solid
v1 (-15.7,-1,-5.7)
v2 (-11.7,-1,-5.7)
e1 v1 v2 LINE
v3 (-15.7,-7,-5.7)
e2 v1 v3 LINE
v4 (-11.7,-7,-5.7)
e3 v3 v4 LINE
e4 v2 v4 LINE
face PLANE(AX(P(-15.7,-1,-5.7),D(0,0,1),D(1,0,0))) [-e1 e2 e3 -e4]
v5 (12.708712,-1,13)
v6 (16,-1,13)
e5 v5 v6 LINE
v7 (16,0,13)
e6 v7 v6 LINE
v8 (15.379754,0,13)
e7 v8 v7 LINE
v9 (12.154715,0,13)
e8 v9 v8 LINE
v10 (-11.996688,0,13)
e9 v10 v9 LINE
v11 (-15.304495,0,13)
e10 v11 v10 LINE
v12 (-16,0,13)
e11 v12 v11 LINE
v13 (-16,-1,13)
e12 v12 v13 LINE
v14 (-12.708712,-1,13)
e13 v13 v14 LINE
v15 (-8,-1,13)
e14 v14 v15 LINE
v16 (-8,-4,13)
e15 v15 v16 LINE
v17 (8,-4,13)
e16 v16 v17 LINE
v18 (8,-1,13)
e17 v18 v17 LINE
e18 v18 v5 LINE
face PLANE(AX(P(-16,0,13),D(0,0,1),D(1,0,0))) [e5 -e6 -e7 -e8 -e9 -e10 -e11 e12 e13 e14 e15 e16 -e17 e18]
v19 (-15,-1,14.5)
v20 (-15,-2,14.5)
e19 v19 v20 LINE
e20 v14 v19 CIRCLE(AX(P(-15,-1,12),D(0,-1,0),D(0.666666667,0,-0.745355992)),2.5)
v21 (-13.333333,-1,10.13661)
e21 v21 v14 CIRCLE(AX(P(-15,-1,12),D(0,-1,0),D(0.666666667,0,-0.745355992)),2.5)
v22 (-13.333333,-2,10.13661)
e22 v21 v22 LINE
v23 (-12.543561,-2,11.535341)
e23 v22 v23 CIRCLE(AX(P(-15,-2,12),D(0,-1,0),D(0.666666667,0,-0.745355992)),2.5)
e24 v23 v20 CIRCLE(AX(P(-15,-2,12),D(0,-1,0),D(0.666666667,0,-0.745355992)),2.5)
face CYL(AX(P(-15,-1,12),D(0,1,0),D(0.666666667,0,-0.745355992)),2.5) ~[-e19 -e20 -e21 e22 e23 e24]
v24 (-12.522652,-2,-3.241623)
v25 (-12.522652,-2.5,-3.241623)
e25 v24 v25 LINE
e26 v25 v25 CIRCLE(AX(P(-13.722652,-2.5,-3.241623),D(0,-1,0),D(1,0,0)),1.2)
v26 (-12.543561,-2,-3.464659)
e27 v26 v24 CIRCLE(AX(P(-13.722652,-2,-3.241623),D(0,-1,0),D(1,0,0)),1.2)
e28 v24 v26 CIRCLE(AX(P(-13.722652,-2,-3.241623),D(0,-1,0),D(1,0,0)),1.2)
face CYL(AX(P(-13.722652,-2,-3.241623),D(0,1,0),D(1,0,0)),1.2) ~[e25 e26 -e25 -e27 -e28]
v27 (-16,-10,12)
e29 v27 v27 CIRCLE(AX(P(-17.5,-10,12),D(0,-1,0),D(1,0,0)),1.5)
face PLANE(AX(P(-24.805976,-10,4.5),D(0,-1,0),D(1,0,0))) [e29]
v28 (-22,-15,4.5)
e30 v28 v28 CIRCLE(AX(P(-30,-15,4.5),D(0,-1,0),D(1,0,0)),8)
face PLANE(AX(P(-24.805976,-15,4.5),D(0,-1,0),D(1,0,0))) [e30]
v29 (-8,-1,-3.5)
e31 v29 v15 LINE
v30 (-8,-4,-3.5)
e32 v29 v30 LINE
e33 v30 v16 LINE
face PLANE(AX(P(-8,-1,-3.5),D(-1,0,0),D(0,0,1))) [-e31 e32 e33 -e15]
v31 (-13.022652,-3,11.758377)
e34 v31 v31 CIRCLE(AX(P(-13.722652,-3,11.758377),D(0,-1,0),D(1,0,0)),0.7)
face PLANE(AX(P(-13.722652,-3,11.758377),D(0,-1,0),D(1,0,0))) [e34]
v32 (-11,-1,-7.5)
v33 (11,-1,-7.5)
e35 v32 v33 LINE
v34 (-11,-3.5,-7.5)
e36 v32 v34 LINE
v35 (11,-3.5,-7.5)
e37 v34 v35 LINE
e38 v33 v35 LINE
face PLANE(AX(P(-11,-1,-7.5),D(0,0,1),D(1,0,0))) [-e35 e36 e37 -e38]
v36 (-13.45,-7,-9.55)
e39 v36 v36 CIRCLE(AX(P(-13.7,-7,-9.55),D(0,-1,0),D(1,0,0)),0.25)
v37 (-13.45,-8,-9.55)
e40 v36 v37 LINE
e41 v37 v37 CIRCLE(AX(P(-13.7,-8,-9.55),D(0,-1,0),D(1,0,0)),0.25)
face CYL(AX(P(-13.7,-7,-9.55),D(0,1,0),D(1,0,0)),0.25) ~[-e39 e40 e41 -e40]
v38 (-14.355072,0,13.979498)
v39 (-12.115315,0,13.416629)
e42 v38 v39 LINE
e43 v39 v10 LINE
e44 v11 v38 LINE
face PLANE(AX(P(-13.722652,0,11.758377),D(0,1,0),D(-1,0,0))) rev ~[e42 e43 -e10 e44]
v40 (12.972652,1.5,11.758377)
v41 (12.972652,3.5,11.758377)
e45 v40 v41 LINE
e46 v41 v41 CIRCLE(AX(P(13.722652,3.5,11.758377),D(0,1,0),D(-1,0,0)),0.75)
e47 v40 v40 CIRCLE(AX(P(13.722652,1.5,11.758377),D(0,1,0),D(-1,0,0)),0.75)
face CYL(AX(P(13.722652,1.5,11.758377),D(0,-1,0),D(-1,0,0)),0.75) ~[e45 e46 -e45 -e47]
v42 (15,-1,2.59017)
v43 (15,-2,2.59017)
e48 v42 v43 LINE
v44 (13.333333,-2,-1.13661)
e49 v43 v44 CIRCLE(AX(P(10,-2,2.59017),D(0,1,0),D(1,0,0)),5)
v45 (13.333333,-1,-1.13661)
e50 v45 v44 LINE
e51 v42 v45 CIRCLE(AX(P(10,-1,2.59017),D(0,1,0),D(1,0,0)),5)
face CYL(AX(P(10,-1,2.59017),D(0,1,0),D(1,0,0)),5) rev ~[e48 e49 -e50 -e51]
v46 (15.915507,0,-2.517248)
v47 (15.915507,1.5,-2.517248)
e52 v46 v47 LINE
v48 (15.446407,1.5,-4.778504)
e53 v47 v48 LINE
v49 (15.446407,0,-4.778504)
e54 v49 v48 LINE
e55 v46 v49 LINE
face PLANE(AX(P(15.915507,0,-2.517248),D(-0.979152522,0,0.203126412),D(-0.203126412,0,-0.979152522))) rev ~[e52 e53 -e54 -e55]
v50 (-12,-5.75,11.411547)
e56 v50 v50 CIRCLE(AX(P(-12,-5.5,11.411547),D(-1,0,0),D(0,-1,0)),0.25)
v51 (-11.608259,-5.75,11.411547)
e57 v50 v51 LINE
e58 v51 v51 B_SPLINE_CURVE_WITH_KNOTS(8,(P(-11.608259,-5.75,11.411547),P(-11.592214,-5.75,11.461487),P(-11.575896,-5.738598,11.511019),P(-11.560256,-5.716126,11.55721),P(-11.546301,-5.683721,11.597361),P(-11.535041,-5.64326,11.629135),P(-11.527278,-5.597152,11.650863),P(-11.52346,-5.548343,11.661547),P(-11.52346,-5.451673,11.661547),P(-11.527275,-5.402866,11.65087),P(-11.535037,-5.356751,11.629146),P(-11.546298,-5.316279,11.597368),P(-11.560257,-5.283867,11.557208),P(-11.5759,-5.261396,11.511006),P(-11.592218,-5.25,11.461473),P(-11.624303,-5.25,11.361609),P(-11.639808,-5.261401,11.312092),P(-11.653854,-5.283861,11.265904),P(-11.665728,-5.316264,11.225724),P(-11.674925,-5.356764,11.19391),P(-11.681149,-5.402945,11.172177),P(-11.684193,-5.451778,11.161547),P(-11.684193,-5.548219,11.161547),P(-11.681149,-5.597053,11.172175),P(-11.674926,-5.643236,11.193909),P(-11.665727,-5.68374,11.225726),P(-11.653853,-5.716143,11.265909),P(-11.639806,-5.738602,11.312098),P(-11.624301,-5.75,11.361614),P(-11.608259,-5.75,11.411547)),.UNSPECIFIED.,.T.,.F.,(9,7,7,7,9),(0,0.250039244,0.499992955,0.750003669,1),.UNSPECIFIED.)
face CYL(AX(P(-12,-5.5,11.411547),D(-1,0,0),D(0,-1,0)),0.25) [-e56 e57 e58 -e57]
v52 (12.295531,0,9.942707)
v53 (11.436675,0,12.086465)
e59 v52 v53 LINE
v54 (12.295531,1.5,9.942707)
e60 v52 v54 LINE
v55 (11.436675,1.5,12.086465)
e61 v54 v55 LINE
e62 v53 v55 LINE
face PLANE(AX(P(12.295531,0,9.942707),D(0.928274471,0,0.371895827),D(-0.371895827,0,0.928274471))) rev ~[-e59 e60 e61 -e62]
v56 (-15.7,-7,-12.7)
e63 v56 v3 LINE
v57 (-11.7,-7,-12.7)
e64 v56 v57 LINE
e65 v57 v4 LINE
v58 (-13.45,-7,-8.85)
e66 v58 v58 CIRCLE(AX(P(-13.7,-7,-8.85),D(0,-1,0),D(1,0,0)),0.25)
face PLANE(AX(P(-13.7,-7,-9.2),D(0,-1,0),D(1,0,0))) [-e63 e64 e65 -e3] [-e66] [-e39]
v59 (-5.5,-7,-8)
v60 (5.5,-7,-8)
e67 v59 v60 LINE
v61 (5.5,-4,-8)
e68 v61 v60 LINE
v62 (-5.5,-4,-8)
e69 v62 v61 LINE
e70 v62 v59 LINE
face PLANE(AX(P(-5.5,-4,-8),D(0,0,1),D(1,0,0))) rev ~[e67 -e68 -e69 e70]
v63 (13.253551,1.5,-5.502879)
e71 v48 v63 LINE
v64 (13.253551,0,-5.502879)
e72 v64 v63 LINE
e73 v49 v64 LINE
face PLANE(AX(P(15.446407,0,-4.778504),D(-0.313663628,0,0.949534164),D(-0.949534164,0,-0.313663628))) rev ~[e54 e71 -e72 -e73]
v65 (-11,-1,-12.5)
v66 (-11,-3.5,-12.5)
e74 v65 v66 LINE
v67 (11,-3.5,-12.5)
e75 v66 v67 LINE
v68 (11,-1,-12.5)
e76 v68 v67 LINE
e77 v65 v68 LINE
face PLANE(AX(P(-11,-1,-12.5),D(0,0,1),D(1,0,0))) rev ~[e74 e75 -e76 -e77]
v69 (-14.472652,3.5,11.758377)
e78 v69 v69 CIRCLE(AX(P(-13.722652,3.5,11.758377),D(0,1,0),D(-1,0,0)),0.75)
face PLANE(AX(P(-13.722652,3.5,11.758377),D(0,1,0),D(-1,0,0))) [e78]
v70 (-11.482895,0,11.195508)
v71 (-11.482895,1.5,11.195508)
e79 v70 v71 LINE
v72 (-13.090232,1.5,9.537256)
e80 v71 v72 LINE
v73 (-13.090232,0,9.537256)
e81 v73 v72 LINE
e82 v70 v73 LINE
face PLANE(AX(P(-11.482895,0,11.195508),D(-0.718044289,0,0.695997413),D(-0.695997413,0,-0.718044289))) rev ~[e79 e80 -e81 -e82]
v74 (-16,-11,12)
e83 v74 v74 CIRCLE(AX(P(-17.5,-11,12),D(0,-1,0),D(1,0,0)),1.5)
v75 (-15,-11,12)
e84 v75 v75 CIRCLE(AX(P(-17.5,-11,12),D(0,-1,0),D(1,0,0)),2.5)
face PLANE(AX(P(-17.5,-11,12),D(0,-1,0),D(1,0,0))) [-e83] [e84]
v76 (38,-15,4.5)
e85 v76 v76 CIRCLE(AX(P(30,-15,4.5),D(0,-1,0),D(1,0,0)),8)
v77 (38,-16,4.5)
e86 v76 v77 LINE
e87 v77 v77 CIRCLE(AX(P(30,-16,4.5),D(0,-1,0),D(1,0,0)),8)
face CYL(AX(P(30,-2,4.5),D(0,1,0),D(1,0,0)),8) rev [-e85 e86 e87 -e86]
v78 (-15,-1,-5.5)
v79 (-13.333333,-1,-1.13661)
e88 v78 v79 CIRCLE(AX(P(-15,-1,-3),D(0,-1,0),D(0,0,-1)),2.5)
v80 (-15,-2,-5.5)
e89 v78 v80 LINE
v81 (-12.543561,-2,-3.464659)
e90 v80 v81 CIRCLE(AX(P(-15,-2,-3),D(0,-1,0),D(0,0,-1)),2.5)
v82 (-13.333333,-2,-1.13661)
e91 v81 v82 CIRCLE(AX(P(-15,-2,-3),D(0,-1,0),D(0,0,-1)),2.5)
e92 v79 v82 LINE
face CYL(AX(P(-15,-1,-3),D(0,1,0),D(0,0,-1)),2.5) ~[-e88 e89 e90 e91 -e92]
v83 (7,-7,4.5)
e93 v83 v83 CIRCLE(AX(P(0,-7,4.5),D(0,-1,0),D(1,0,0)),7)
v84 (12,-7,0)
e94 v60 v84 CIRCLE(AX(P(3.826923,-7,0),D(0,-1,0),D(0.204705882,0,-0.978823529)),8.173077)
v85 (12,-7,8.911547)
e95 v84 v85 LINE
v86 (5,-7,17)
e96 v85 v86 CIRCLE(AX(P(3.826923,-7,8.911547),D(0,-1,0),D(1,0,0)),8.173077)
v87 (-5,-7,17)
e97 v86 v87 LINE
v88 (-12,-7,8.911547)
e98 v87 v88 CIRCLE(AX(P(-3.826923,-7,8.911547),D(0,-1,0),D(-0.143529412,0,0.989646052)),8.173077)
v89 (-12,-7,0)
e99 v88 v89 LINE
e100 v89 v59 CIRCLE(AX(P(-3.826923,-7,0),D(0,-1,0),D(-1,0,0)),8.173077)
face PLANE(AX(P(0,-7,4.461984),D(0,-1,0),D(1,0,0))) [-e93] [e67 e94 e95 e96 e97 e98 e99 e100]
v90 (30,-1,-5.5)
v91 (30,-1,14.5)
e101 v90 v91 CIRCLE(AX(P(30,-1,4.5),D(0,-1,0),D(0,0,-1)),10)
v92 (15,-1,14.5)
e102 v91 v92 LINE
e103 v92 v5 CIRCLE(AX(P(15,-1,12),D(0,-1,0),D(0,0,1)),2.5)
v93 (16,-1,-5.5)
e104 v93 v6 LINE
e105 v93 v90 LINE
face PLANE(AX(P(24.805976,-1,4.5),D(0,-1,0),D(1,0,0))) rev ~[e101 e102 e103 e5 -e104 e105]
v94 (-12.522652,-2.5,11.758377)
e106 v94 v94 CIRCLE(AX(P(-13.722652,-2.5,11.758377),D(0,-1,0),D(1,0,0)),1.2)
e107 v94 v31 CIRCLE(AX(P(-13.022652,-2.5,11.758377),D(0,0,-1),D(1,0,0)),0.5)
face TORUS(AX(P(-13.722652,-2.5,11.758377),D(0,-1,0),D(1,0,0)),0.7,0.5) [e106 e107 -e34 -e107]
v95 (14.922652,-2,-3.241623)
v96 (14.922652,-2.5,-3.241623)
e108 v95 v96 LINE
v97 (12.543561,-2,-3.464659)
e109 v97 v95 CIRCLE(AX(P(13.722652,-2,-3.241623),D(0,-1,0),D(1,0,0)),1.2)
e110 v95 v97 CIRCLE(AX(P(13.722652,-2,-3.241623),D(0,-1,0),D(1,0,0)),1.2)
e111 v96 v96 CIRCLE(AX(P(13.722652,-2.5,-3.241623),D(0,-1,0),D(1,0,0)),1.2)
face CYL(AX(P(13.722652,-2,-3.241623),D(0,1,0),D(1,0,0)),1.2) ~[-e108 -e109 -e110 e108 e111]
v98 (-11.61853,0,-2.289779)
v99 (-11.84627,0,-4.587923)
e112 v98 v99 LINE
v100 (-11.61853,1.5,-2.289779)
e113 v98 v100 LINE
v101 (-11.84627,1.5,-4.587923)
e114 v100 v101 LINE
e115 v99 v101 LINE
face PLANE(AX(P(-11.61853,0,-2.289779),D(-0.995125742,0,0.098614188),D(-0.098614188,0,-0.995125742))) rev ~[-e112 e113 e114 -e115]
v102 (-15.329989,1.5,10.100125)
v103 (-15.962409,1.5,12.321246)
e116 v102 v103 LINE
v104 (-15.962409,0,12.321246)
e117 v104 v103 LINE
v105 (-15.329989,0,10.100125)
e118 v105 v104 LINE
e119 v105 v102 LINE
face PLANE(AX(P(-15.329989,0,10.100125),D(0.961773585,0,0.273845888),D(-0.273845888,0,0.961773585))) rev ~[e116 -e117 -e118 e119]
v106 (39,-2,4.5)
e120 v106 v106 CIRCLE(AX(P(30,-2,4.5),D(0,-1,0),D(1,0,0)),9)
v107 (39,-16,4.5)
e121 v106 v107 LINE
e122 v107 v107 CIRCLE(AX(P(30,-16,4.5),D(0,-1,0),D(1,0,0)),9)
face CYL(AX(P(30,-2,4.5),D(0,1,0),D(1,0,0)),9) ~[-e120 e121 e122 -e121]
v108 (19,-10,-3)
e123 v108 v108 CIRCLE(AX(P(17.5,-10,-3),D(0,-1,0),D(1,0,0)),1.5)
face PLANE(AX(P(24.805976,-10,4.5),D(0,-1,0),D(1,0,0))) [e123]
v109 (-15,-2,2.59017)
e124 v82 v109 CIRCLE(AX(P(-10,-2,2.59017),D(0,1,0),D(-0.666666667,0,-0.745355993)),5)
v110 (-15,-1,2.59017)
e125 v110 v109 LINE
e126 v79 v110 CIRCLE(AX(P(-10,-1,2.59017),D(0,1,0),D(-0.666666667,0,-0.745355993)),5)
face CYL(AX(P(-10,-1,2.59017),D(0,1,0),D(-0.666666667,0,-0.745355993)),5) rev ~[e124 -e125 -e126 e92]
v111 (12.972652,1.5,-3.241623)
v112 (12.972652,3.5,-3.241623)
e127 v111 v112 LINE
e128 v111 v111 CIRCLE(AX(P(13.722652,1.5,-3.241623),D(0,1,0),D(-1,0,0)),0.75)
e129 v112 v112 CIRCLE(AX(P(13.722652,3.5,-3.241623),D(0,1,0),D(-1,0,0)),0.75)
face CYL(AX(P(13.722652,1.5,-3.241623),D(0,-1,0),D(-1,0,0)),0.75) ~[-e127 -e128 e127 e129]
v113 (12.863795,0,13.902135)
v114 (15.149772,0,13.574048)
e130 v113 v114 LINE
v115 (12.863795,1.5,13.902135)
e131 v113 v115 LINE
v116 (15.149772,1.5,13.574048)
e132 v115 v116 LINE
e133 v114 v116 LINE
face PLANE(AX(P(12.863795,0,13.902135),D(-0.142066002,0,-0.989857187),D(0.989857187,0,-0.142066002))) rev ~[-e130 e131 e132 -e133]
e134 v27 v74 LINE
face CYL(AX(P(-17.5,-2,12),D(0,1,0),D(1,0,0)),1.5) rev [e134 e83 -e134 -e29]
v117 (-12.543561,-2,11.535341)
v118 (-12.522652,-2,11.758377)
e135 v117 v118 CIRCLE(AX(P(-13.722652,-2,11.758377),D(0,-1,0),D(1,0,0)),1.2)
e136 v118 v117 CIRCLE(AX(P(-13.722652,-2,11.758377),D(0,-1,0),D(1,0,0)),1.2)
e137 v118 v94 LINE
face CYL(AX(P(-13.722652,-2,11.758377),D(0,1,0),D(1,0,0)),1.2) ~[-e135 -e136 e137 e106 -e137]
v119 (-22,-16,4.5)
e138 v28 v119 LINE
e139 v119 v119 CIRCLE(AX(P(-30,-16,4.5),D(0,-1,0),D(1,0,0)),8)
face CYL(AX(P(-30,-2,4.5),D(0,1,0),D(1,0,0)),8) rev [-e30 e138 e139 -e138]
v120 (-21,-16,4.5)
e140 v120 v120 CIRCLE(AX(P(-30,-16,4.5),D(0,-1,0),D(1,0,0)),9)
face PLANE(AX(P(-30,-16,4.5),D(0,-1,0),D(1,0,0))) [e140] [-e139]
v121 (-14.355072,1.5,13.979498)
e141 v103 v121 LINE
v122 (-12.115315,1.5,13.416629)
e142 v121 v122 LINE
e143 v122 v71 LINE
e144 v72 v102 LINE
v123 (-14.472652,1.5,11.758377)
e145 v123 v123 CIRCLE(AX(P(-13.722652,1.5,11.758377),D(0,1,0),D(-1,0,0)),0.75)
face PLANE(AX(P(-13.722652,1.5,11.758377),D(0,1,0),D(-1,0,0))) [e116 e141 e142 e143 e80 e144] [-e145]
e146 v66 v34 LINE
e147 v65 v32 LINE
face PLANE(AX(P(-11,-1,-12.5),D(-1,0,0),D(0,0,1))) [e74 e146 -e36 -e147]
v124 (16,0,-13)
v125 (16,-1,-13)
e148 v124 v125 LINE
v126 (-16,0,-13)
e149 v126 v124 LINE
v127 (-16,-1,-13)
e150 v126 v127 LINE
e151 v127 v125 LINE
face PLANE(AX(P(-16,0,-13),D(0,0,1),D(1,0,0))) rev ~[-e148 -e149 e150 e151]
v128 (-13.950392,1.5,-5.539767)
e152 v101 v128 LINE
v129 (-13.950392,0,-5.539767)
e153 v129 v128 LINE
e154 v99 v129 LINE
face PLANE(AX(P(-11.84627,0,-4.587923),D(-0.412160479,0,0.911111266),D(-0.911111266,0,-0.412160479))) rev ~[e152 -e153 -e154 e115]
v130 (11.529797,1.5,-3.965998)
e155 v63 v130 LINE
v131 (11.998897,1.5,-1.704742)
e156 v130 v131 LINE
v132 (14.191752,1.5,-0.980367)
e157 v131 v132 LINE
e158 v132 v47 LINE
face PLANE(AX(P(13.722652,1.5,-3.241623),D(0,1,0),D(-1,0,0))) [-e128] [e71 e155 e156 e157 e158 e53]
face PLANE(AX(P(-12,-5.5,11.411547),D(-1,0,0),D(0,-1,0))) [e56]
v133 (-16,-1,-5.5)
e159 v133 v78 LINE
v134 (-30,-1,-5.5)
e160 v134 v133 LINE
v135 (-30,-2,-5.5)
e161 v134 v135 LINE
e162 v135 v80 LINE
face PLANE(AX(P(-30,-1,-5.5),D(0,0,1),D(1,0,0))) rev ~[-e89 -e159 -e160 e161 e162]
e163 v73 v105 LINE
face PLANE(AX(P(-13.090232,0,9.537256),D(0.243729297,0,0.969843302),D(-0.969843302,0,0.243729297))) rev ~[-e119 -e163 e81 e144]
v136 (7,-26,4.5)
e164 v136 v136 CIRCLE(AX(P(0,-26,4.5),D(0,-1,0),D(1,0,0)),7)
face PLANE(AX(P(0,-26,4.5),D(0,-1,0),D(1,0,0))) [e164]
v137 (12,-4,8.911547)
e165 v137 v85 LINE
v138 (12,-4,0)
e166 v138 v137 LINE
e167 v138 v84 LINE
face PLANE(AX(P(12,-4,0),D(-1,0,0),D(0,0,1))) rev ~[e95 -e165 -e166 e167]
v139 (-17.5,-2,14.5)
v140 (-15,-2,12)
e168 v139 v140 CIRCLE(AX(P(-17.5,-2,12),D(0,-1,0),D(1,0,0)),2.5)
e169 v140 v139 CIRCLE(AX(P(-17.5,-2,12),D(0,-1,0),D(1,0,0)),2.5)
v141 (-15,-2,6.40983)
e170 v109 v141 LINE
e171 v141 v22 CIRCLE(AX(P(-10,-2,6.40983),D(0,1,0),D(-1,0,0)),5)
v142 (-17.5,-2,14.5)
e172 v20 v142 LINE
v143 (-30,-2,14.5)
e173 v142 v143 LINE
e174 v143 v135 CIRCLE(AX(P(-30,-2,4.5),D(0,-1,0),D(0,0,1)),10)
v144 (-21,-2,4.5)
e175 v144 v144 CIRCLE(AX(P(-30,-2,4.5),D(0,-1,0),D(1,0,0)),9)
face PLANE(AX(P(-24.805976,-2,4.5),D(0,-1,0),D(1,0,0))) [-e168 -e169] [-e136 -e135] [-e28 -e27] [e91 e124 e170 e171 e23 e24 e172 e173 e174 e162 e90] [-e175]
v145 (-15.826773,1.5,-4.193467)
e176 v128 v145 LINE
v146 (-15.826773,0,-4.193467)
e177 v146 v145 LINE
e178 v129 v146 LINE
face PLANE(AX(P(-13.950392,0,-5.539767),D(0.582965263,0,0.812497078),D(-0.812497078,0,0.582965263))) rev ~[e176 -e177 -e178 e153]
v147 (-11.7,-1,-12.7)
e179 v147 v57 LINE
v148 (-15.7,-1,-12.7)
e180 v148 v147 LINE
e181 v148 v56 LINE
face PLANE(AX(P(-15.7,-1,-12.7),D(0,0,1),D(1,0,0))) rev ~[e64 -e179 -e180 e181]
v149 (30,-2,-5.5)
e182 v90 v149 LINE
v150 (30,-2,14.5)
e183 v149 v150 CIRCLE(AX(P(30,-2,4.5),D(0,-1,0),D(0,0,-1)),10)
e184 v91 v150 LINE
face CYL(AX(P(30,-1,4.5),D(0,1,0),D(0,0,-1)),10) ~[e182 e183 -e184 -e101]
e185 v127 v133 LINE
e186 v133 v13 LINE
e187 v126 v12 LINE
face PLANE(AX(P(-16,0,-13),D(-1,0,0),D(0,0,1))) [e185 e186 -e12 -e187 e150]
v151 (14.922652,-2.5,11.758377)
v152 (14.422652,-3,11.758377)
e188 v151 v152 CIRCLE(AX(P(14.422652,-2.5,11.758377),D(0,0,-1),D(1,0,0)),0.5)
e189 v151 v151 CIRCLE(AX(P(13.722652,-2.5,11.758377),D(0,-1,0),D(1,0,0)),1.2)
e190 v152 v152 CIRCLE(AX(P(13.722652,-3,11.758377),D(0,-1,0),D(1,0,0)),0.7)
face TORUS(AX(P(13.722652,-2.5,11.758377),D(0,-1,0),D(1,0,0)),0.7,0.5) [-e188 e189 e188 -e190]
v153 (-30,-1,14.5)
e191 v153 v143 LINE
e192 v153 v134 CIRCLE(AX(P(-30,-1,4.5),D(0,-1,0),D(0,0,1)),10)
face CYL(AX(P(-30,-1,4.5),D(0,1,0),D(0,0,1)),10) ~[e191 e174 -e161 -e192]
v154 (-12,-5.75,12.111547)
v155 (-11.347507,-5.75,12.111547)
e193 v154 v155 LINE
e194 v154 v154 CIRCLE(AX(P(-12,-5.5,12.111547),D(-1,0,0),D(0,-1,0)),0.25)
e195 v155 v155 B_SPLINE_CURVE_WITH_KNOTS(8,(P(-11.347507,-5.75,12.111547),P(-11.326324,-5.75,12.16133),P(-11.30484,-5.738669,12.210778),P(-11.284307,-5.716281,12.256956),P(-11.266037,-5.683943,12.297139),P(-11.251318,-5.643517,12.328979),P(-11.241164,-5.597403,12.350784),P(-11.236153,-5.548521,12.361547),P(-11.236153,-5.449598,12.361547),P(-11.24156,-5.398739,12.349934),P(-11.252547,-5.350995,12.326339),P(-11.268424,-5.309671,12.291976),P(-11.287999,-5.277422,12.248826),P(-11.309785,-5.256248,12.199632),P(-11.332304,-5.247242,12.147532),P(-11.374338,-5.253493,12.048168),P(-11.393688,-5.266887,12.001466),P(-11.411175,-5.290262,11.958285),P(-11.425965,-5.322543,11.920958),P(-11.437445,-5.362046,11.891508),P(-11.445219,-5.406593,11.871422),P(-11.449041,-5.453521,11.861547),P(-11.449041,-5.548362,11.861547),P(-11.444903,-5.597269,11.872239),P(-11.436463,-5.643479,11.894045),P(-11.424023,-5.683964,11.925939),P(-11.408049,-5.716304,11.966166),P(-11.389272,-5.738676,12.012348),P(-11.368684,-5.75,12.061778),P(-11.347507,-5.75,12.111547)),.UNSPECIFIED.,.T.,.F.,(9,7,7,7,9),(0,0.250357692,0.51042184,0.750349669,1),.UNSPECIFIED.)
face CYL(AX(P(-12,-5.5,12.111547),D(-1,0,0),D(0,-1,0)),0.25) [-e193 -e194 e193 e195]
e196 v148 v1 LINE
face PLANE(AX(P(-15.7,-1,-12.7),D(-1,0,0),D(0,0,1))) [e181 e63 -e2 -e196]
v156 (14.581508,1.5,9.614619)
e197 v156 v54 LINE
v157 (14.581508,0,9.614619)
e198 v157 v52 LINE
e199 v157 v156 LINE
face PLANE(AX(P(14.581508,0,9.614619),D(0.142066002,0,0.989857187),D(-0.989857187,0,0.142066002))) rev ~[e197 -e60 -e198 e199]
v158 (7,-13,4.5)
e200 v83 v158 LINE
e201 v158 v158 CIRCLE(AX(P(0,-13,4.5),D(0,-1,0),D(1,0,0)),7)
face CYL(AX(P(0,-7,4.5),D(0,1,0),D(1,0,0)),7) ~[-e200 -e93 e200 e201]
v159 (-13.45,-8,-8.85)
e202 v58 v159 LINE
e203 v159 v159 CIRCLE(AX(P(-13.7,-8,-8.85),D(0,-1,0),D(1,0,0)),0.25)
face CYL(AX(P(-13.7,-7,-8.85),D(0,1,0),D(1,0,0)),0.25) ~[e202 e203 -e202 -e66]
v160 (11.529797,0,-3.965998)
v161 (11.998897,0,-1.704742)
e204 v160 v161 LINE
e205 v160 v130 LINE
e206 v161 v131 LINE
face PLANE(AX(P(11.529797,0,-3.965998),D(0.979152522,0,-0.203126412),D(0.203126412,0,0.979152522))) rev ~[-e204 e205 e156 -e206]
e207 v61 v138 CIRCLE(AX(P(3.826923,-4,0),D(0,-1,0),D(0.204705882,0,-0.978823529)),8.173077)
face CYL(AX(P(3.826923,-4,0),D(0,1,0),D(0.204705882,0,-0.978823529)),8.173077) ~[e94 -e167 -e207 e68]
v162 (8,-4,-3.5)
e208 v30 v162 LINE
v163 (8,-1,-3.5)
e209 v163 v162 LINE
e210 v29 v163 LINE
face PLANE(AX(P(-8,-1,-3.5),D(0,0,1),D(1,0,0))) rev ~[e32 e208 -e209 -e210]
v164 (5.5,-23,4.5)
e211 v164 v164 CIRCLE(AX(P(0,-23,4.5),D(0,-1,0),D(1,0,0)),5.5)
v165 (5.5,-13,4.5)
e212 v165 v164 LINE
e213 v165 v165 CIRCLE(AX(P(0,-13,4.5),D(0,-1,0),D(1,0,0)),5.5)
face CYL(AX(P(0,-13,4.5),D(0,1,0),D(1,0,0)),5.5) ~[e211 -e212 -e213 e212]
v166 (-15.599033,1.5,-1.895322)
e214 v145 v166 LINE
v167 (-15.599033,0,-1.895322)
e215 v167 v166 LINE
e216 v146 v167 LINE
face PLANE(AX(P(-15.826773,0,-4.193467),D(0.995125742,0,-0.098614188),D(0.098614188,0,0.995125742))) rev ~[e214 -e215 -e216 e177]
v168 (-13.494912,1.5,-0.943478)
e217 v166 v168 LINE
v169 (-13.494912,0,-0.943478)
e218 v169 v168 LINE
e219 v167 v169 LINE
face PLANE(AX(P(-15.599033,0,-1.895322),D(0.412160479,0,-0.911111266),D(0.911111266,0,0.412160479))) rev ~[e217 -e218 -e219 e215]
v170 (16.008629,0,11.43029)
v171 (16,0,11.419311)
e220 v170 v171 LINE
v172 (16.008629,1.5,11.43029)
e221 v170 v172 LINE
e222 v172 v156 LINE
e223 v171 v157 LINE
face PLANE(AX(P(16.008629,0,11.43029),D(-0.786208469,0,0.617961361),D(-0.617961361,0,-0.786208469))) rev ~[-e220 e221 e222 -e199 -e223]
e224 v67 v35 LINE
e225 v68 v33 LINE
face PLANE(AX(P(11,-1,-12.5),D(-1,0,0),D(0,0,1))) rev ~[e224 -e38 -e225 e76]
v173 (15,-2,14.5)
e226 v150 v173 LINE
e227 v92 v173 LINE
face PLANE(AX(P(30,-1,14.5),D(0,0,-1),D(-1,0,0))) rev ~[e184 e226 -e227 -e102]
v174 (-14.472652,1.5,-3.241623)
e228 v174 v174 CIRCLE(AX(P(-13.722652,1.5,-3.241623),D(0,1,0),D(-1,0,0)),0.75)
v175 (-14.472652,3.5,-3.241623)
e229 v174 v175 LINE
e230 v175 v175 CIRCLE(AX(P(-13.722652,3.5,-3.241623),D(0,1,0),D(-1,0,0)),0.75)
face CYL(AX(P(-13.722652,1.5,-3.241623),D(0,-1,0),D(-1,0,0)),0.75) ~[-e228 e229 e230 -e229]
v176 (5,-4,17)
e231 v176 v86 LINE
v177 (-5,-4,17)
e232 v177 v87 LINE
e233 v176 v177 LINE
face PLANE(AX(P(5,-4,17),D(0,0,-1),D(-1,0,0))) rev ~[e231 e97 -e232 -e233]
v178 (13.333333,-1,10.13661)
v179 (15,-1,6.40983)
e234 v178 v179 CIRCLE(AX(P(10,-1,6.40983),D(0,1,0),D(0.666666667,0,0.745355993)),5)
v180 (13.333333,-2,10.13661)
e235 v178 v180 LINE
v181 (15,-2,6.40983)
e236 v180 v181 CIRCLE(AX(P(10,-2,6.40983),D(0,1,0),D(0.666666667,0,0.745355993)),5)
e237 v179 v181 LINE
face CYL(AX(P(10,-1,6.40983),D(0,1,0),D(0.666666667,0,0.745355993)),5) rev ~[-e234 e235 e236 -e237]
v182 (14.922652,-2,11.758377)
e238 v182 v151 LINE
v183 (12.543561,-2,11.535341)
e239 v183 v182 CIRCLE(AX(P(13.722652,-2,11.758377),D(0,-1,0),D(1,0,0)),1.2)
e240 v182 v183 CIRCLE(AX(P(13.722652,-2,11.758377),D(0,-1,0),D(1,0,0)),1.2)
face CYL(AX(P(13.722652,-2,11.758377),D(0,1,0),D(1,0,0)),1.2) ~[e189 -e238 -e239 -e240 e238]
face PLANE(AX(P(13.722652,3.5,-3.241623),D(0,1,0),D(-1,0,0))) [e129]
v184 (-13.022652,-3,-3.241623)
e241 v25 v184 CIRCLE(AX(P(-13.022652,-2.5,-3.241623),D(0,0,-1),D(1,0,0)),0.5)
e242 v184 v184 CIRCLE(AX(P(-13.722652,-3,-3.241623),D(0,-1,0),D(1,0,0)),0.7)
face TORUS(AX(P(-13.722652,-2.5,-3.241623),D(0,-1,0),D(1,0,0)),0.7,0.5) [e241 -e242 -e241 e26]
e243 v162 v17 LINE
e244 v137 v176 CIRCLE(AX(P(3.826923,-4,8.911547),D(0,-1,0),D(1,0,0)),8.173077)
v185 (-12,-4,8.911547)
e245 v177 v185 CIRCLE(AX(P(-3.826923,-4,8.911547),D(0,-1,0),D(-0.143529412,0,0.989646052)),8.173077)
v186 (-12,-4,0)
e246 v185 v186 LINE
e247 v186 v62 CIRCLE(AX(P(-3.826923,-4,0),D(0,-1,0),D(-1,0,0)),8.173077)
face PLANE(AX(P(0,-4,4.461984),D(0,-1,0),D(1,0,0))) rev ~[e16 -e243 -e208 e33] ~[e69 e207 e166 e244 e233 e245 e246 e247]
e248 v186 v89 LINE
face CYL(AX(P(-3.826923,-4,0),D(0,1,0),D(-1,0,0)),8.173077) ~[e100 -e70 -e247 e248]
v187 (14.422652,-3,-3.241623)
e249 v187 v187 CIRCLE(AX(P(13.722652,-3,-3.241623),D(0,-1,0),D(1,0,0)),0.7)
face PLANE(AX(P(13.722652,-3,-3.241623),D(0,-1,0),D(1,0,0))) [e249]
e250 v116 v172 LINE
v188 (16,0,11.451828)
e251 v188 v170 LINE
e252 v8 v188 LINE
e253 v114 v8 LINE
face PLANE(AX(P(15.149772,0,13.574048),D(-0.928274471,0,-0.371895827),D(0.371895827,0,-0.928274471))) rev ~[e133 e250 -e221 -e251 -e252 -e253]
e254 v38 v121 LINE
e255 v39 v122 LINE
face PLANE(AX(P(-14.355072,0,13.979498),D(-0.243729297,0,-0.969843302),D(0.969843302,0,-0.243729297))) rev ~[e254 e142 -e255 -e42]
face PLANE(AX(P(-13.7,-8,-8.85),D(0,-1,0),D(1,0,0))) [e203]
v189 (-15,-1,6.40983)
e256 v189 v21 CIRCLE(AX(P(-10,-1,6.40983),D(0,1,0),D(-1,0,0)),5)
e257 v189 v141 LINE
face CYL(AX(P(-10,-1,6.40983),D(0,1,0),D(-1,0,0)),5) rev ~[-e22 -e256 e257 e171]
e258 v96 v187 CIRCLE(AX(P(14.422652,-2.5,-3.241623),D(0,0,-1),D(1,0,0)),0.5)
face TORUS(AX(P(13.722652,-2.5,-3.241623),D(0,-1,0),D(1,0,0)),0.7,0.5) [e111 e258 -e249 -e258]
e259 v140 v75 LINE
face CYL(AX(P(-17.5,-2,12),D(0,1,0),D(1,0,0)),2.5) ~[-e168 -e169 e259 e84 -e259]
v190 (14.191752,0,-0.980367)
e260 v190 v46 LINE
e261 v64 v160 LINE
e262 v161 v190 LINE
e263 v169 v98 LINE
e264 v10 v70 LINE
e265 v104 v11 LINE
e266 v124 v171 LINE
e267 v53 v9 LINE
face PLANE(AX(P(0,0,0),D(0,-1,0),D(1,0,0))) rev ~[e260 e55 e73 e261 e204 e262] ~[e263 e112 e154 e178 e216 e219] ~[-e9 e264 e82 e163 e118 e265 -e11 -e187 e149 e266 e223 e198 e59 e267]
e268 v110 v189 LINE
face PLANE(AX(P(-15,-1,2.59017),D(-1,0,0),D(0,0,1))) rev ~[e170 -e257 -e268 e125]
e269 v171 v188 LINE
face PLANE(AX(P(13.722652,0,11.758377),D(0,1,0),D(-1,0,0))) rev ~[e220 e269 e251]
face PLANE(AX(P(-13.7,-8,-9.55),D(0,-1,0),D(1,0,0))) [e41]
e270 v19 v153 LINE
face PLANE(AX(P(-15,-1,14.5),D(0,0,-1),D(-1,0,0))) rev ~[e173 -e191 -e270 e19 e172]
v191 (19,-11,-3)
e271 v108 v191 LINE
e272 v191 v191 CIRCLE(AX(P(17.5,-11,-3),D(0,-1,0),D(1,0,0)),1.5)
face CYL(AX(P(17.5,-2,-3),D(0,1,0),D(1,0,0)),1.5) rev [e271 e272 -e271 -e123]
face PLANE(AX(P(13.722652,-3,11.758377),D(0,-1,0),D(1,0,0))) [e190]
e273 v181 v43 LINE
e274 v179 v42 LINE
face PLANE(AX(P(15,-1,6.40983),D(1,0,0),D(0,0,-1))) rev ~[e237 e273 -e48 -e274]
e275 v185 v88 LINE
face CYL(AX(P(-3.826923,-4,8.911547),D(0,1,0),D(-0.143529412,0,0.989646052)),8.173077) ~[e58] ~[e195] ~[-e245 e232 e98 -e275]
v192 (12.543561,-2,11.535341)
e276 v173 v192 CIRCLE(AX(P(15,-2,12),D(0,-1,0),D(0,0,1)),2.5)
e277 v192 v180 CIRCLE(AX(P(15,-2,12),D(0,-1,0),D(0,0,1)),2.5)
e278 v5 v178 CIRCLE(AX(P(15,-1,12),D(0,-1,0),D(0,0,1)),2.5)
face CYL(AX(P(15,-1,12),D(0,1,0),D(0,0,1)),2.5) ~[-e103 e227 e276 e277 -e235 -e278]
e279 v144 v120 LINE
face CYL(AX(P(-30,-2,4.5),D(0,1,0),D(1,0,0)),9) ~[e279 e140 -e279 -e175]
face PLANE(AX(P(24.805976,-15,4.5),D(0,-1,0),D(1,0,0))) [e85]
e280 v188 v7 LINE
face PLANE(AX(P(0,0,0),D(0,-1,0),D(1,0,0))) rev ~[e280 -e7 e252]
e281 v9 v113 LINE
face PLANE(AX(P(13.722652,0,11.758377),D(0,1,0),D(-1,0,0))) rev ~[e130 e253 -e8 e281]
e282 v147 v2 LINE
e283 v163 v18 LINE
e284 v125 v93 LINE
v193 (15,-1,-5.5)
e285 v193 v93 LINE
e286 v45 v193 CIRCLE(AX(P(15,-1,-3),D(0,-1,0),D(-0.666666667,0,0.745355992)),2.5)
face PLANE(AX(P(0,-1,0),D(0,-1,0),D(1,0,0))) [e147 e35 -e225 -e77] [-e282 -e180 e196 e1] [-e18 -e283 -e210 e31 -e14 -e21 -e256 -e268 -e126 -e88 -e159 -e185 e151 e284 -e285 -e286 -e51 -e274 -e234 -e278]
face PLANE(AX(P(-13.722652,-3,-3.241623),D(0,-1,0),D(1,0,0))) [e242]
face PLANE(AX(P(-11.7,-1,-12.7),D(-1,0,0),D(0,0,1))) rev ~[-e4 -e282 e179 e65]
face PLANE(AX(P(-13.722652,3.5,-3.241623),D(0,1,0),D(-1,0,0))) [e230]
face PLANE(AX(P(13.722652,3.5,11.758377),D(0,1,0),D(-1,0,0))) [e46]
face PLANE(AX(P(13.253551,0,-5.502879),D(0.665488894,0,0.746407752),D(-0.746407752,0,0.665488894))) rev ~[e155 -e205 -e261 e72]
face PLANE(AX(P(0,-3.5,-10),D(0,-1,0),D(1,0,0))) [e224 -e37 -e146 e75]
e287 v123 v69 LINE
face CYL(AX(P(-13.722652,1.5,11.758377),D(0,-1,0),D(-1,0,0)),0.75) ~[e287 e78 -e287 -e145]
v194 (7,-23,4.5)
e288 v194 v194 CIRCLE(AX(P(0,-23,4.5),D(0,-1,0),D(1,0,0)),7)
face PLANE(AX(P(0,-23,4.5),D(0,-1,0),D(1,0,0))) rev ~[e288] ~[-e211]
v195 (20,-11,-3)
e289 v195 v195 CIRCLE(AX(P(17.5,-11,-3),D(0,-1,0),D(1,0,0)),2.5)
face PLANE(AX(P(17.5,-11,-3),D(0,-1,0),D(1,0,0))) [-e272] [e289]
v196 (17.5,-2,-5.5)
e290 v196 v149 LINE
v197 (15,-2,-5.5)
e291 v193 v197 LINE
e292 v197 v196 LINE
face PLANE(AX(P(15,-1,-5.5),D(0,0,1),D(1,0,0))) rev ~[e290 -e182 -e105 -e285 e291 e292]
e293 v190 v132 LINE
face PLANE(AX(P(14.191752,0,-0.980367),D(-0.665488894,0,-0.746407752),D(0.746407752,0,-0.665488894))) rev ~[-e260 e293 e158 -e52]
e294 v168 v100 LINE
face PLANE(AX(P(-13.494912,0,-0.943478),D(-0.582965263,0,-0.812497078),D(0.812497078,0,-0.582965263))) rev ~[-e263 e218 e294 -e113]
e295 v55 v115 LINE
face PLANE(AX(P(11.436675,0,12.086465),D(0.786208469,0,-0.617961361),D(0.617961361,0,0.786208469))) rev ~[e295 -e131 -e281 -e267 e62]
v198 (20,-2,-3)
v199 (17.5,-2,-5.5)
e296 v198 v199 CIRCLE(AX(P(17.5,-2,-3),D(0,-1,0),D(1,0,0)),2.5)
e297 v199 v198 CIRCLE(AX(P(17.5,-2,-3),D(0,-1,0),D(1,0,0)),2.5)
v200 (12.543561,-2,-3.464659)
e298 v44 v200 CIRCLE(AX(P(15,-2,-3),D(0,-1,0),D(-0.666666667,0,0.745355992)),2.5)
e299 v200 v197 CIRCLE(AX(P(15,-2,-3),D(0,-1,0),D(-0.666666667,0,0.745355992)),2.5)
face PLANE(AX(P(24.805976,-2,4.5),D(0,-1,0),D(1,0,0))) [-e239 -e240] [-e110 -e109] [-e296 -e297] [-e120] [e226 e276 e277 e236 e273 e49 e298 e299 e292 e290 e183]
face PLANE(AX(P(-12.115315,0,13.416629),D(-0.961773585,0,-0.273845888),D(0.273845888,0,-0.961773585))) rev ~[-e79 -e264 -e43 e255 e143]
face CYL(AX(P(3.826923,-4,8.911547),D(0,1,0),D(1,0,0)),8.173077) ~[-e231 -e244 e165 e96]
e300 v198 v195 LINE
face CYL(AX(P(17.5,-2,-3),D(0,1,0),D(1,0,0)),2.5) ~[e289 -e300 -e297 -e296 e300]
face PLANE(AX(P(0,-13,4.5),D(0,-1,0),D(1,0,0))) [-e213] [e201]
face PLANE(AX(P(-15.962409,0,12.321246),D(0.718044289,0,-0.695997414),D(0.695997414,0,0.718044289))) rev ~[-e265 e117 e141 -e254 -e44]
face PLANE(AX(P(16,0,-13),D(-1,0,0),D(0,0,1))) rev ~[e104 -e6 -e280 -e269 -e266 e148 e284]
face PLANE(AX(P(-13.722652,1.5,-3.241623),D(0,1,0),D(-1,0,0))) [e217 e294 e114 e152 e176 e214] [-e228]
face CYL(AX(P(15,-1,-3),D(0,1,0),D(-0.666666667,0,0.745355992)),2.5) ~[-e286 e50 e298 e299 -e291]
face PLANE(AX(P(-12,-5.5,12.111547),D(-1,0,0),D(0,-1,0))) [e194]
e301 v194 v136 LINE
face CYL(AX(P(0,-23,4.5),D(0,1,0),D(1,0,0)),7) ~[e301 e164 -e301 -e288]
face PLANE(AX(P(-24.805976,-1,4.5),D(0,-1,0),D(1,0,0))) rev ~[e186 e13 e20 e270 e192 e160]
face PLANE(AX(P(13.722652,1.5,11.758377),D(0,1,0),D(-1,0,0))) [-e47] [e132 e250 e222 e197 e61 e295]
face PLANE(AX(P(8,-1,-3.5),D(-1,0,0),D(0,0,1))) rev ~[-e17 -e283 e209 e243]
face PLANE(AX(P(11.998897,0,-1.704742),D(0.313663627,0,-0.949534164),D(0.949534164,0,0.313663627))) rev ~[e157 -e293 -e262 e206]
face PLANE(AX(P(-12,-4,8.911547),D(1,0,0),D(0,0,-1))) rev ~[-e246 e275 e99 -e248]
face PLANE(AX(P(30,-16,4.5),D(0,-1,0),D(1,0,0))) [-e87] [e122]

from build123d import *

# Parameters (mm, degrees)
F0_W      = 32
F0_H      = 26
F1_DEPTH  = 1
F3_DEPTH  = 1
F4_R      = 9
F4_R_2    = 8
F5_DEPTH  = 14
F6_R      = 2.5
F6_R_2    = 1.5
F7_DEPTH  = 9
F8_W      = 22
F8_H      = 5
F9_DEPTH  = 2.5
F10_W     = 16
F10_H     = 16.5
F11_DEPTH = 3
F13_DEPTH = 3
F14_R     = 7
F15_DEPTH = 6
F16_R     = 5.5
F17_DEPTH = 10
F18_R     = 7
F19_DEPTH = 3
F20_DEPTH = 13
F21_DEPTH = 8
F22_R     = 1.2
F23_DEPTH = 1
F24_R     = 0.5
F26_DEPTH = 1.5
F27_R     = 0.75
F28_DEPTH = 2
F29_W     = 4
F29_H     = 7
F30_DEPTH = 6
F31_R     = 0.25
F32_DEPTH = 2
F33_R     = 0.25
F34_DEPTH = 1


with BuildPart() as f1:
    # F0 (on Front) → F1 (new body)
    with BuildSketch(Plane.XZ):
        Rectangle(F0_W, F0_H)
    extrude(amount=F1_DEPTH)

    # F2 (on face) → F3 (join)
    with BuildSketch(Plane.XZ.offset(1)):
        with BuildLine():
            ThreePointArc((-13.3333333333, 10.1366100188), (-12.6645691026, 12.8920552244), (-15, 14.5))
            Line((-15, 14.5), (-30, 14.5))
            ThreePointArc((-30, 14.5), (-40, 4.5), (-30, -5.5))
            Line((-30, -5.5), (-15, -5.5))
            ThreePointArc((-15, -5.5), (-12.6645691026, -3.8920552244), (-13.3333333333, -1.1366100188))
            ThreePointArc((-13.3333333333, -1.1366100188), (-14.5643546459, 0.5489284914), (-15, 2.5901699437))
            Line((-15, 2.5901699437), (-15, 6.4098300563))
            ThreePointArc((-15, 6.4098300563), (-14.5643546459, 8.4510715086), (-13.3333333333, 10.1366100188))
        make_face()
        with BuildLine():
            ThreePointArc((13.3333333333, 10.1366100188), (14.5643546459, 8.4510715086), (15, 6.4098300563))
            Line((15, 6.4098300563), (15, 2.5901699437))
            ThreePointArc((15, 2.5901699437), (14.5643546459, 0.5489284914), (13.3333333333, -1.1366100188))
            ThreePointArc((13.3333333333, -1.1366100188), (12.6645691026, -3.8920552244), (15, -5.5))
            Line((15, -5.5), (30, -5.5))
            ThreePointArc((30, -5.5), (40, 4.5), (30, 14.5))
            Line((30, 14.5), (15, 14.5))
            ThreePointArc((15, 14.5), (12.6645691026, 12.8920552244), (13.3333333333, 10.1366100188))
        make_face()
    extrude(amount=F3_DEPTH)

    # F4 (on face) → F5 (join)
    with BuildSketch(Plane.XZ.offset(2)):
        with Locations((-30, 4.5)):
            Circle(F4_R)
        with Locations((-30, 4.5)):
            Circle(F4_R_2, mode=Mode.SUBTRACT)
        with Locations((30, 4.5)):
            Circle(F4_R)
        with Locations((30, 4.5)):
            Circle(F4_R_2, mode=Mode.SUBTRACT)
    extrude(amount=F5_DEPTH)

    # F6 (on face) → F7 (join)
    with BuildSketch(Plane.XZ.offset(2)):
        with Locations((-17.5, 12)):
            Circle(F6_R)
        with Locations((-17.5, 12)):
            Circle(F6_R_2, mode=Mode.SUBTRACT)
        with Locations((17.5, -3)):
            Circle(F6_R)
        with Locations((17.5, -3)):
            Circle(F6_R_2, mode=Mode.SUBTRACT)
    extrude(amount=F7_DEPTH)

    # F8 (on face) → F9 (join)
    with BuildSketch(Plane.XZ.offset(1)):
        with Locations((0, -10)):
            Rectangle(F8_W, F8_H)
    extrude(amount=F9_DEPTH)

    # F10 (on face) → F11 (join)
    with BuildSketch(Plane.XZ.offset(1)):
        with Locations((0, 4.75)):
            Rectangle(F10_W, F10_H)
    extrude(amount=F11_DEPTH)

    # F12 (on face) → F13 (join)
    with BuildSketch(Plane.XZ.offset(4)):
        with BuildLine():
            Line((5, 17), (-5, 17))
            ThreePointArc((-5, 17), (-10.0070053709, 14.2599828397), (-12, 8.9115466915))
            Line((-12, 8.9115466915), (-12, 0))
            ThreePointArc((-12, 0), (-10.170162501, -5.153882032), (-5.5, -8))
            Line((-5.5, -8), (5.5, -8))
            ThreePointArc((5.5, -8), (10.170162501, -5.153882032), (12, 0))
            Line((12, 0), (12, 8.9115466915))
            ThreePointArc((12, 8.9115466915), (10.0070053709, 14.2599828397), (5, 17))
        make_face()
    extrude(amount=F13_DEPTH)

    # F14 (on face) → F15 (join)
    with BuildSketch(Plane.XZ.offset(7)):
        with Locations((0, 4.5)):
            Circle(F14_R)
    extrude(amount=F15_DEPTH)

    # F16 (on face) → F17 (join)
    with BuildSketch(Plane.XZ.offset(13)):
        with Locations((0, 4.5)):
            Circle(F16_R)
    extrude(amount=F17_DEPTH)

    # F18 (on face) → F19 (join)
    with BuildSketch(Plane.XZ.offset(23)):
        with Locations((0, 4.5)):
            Circle(F18_R)
    extrude(amount=F19_DEPTH)

    # F20 (add): faces of the model
    f20_faces = [f1.faces().sort_by_distance(p)[0] for p in [
        (-30, -2, 4.5),
        (30, -2, 4.5),
    ]]
    extrude(f20_faces, amount=F20_DEPTH)

    # F21 (add): faces of the model
    f21_faces = [f1.faces().sort_by_distance(p)[0] for p in [
        (17.5, -2, -3),
        (-17.5, -2, 12),
    ]]
    extrude(f21_faces, amount=F21_DEPTH)

    # F22 (on face) → F23 (join)
    with BuildSketch(Plane.XZ.offset(2)):
        with Locations((-13.7226518032, 11.7583771864)):
            Circle(F22_R)
        with Locations((-13.7226518032, -3.2416228136)):
            Circle(F22_R)
        with Locations((13.7226518032, 11.7583771864)):
            Circle(F22_R)
        with Locations((13.7226518032, -3.2416228136)):
            Circle(F22_R)
    extrude(amount=F23_DEPTH)

    # F24
    f24_edges = [f1.edges().sort_by_distance(p)[0] for p in [
        (-14.922652, -3, 11.758377),
        (-14.922652, -3, -3.241623),
        (12.522652, -3, 11.758377),
        (12.522652, -3, -3.241623),
    ]]
    fillet(f24_edges, radius=F24_R)

    # F25 (on face) → F26 (join)
    with BuildSketch(Plane(origin=(0, 0, 0), x_dir=(-1, 0, 0), z_dir=(0, 1, 0))):
        Polygon((-15.1497724348, 13.5740478713), (-16.008629057, 11.4302898075), (-14.5815084254, 9.6146191226), (-12.2955311715, 9.9427065015), (-11.4366745493, 12.0864645652), (-12.863795181, 13.9021352501), align=None)
        Polygon((15.3299889793, 10.1001249331), (15.9624089685, 12.3212458867), (14.3550717923, 13.97949814), (12.115314627, 13.4166294396), (11.4828946379, 11.195508486), (13.090231814, 9.5372562327), align=None)
        Polygon((-13.2535514476, -5.5028787014), (-11.5297965822, -3.9659979326), (-11.9988969377, -1.7047420449), (-14.1917521587, -0.9803669259), (-15.9155070242, -2.5172476946), (-15.4464066686, -4.7785035823), align=None)
        Polygon((13.9503915154, -5.5397672732), (15.8267731428, -4.1934666672), (15.5990334306, -1.8953222076), (13.494912091, -0.9434783541), (11.6185304636, -2.2897789601), (11.8462701758, -4.5879234196), align=None)
    extrude(amount=F26_DEPTH)

    # F27 (on face) → F28 (join)
    with BuildSketch(Plane(origin=(0, 1.5, 0), x_dir=(-1, 0, 0), z_dir=(0, 1, 0))):
        with Locations((-13.7226518032, 11.7583771864)):
            Circle(F27_R)
        with Locations((-13.7226518032, -3.2416228136)):
            Circle(F27_R)
        with Locations((13.7226518032, -3.2416228136)):
            Circle(F27_R)
        with Locations((13.7226518032, 11.7583771864)):
            Circle(F27_R)
    extrude(amount=F28_DEPTH)

    # F29 (on face) → F30 (join)
    with BuildSketch(Plane.XZ.offset(1)):
        with Locations((-13.7, -9.2)):
            Rectangle(F29_W, F29_H)
    extrude(amount=F30_DEPTH)

    # F31 (on face) → F32 (join)
    with BuildSketch(Plane(origin=(-12, 0, 0), x_dir=(0, -1, 0), z_dir=(-1, 0, 0))):
        with Locations((5.5, 12.1115466915)):
            Circle(F31_R)
        with Locations((5.5, 11.4115466915)):
            Circle(F31_R)
    extrude(amount=-F32_DEPTH)

    # F33 (on face) → F34 (join)
    with BuildSketch(Plane.XZ.offset(7)):
        with Locations((-13.7, -8.85)):
            Circle(F33_R)
        with Locations((-13.7, -9.55)):
            Circle(F33_R)
    extrude(amount=F34_DEPTH)


solid = f1.part
